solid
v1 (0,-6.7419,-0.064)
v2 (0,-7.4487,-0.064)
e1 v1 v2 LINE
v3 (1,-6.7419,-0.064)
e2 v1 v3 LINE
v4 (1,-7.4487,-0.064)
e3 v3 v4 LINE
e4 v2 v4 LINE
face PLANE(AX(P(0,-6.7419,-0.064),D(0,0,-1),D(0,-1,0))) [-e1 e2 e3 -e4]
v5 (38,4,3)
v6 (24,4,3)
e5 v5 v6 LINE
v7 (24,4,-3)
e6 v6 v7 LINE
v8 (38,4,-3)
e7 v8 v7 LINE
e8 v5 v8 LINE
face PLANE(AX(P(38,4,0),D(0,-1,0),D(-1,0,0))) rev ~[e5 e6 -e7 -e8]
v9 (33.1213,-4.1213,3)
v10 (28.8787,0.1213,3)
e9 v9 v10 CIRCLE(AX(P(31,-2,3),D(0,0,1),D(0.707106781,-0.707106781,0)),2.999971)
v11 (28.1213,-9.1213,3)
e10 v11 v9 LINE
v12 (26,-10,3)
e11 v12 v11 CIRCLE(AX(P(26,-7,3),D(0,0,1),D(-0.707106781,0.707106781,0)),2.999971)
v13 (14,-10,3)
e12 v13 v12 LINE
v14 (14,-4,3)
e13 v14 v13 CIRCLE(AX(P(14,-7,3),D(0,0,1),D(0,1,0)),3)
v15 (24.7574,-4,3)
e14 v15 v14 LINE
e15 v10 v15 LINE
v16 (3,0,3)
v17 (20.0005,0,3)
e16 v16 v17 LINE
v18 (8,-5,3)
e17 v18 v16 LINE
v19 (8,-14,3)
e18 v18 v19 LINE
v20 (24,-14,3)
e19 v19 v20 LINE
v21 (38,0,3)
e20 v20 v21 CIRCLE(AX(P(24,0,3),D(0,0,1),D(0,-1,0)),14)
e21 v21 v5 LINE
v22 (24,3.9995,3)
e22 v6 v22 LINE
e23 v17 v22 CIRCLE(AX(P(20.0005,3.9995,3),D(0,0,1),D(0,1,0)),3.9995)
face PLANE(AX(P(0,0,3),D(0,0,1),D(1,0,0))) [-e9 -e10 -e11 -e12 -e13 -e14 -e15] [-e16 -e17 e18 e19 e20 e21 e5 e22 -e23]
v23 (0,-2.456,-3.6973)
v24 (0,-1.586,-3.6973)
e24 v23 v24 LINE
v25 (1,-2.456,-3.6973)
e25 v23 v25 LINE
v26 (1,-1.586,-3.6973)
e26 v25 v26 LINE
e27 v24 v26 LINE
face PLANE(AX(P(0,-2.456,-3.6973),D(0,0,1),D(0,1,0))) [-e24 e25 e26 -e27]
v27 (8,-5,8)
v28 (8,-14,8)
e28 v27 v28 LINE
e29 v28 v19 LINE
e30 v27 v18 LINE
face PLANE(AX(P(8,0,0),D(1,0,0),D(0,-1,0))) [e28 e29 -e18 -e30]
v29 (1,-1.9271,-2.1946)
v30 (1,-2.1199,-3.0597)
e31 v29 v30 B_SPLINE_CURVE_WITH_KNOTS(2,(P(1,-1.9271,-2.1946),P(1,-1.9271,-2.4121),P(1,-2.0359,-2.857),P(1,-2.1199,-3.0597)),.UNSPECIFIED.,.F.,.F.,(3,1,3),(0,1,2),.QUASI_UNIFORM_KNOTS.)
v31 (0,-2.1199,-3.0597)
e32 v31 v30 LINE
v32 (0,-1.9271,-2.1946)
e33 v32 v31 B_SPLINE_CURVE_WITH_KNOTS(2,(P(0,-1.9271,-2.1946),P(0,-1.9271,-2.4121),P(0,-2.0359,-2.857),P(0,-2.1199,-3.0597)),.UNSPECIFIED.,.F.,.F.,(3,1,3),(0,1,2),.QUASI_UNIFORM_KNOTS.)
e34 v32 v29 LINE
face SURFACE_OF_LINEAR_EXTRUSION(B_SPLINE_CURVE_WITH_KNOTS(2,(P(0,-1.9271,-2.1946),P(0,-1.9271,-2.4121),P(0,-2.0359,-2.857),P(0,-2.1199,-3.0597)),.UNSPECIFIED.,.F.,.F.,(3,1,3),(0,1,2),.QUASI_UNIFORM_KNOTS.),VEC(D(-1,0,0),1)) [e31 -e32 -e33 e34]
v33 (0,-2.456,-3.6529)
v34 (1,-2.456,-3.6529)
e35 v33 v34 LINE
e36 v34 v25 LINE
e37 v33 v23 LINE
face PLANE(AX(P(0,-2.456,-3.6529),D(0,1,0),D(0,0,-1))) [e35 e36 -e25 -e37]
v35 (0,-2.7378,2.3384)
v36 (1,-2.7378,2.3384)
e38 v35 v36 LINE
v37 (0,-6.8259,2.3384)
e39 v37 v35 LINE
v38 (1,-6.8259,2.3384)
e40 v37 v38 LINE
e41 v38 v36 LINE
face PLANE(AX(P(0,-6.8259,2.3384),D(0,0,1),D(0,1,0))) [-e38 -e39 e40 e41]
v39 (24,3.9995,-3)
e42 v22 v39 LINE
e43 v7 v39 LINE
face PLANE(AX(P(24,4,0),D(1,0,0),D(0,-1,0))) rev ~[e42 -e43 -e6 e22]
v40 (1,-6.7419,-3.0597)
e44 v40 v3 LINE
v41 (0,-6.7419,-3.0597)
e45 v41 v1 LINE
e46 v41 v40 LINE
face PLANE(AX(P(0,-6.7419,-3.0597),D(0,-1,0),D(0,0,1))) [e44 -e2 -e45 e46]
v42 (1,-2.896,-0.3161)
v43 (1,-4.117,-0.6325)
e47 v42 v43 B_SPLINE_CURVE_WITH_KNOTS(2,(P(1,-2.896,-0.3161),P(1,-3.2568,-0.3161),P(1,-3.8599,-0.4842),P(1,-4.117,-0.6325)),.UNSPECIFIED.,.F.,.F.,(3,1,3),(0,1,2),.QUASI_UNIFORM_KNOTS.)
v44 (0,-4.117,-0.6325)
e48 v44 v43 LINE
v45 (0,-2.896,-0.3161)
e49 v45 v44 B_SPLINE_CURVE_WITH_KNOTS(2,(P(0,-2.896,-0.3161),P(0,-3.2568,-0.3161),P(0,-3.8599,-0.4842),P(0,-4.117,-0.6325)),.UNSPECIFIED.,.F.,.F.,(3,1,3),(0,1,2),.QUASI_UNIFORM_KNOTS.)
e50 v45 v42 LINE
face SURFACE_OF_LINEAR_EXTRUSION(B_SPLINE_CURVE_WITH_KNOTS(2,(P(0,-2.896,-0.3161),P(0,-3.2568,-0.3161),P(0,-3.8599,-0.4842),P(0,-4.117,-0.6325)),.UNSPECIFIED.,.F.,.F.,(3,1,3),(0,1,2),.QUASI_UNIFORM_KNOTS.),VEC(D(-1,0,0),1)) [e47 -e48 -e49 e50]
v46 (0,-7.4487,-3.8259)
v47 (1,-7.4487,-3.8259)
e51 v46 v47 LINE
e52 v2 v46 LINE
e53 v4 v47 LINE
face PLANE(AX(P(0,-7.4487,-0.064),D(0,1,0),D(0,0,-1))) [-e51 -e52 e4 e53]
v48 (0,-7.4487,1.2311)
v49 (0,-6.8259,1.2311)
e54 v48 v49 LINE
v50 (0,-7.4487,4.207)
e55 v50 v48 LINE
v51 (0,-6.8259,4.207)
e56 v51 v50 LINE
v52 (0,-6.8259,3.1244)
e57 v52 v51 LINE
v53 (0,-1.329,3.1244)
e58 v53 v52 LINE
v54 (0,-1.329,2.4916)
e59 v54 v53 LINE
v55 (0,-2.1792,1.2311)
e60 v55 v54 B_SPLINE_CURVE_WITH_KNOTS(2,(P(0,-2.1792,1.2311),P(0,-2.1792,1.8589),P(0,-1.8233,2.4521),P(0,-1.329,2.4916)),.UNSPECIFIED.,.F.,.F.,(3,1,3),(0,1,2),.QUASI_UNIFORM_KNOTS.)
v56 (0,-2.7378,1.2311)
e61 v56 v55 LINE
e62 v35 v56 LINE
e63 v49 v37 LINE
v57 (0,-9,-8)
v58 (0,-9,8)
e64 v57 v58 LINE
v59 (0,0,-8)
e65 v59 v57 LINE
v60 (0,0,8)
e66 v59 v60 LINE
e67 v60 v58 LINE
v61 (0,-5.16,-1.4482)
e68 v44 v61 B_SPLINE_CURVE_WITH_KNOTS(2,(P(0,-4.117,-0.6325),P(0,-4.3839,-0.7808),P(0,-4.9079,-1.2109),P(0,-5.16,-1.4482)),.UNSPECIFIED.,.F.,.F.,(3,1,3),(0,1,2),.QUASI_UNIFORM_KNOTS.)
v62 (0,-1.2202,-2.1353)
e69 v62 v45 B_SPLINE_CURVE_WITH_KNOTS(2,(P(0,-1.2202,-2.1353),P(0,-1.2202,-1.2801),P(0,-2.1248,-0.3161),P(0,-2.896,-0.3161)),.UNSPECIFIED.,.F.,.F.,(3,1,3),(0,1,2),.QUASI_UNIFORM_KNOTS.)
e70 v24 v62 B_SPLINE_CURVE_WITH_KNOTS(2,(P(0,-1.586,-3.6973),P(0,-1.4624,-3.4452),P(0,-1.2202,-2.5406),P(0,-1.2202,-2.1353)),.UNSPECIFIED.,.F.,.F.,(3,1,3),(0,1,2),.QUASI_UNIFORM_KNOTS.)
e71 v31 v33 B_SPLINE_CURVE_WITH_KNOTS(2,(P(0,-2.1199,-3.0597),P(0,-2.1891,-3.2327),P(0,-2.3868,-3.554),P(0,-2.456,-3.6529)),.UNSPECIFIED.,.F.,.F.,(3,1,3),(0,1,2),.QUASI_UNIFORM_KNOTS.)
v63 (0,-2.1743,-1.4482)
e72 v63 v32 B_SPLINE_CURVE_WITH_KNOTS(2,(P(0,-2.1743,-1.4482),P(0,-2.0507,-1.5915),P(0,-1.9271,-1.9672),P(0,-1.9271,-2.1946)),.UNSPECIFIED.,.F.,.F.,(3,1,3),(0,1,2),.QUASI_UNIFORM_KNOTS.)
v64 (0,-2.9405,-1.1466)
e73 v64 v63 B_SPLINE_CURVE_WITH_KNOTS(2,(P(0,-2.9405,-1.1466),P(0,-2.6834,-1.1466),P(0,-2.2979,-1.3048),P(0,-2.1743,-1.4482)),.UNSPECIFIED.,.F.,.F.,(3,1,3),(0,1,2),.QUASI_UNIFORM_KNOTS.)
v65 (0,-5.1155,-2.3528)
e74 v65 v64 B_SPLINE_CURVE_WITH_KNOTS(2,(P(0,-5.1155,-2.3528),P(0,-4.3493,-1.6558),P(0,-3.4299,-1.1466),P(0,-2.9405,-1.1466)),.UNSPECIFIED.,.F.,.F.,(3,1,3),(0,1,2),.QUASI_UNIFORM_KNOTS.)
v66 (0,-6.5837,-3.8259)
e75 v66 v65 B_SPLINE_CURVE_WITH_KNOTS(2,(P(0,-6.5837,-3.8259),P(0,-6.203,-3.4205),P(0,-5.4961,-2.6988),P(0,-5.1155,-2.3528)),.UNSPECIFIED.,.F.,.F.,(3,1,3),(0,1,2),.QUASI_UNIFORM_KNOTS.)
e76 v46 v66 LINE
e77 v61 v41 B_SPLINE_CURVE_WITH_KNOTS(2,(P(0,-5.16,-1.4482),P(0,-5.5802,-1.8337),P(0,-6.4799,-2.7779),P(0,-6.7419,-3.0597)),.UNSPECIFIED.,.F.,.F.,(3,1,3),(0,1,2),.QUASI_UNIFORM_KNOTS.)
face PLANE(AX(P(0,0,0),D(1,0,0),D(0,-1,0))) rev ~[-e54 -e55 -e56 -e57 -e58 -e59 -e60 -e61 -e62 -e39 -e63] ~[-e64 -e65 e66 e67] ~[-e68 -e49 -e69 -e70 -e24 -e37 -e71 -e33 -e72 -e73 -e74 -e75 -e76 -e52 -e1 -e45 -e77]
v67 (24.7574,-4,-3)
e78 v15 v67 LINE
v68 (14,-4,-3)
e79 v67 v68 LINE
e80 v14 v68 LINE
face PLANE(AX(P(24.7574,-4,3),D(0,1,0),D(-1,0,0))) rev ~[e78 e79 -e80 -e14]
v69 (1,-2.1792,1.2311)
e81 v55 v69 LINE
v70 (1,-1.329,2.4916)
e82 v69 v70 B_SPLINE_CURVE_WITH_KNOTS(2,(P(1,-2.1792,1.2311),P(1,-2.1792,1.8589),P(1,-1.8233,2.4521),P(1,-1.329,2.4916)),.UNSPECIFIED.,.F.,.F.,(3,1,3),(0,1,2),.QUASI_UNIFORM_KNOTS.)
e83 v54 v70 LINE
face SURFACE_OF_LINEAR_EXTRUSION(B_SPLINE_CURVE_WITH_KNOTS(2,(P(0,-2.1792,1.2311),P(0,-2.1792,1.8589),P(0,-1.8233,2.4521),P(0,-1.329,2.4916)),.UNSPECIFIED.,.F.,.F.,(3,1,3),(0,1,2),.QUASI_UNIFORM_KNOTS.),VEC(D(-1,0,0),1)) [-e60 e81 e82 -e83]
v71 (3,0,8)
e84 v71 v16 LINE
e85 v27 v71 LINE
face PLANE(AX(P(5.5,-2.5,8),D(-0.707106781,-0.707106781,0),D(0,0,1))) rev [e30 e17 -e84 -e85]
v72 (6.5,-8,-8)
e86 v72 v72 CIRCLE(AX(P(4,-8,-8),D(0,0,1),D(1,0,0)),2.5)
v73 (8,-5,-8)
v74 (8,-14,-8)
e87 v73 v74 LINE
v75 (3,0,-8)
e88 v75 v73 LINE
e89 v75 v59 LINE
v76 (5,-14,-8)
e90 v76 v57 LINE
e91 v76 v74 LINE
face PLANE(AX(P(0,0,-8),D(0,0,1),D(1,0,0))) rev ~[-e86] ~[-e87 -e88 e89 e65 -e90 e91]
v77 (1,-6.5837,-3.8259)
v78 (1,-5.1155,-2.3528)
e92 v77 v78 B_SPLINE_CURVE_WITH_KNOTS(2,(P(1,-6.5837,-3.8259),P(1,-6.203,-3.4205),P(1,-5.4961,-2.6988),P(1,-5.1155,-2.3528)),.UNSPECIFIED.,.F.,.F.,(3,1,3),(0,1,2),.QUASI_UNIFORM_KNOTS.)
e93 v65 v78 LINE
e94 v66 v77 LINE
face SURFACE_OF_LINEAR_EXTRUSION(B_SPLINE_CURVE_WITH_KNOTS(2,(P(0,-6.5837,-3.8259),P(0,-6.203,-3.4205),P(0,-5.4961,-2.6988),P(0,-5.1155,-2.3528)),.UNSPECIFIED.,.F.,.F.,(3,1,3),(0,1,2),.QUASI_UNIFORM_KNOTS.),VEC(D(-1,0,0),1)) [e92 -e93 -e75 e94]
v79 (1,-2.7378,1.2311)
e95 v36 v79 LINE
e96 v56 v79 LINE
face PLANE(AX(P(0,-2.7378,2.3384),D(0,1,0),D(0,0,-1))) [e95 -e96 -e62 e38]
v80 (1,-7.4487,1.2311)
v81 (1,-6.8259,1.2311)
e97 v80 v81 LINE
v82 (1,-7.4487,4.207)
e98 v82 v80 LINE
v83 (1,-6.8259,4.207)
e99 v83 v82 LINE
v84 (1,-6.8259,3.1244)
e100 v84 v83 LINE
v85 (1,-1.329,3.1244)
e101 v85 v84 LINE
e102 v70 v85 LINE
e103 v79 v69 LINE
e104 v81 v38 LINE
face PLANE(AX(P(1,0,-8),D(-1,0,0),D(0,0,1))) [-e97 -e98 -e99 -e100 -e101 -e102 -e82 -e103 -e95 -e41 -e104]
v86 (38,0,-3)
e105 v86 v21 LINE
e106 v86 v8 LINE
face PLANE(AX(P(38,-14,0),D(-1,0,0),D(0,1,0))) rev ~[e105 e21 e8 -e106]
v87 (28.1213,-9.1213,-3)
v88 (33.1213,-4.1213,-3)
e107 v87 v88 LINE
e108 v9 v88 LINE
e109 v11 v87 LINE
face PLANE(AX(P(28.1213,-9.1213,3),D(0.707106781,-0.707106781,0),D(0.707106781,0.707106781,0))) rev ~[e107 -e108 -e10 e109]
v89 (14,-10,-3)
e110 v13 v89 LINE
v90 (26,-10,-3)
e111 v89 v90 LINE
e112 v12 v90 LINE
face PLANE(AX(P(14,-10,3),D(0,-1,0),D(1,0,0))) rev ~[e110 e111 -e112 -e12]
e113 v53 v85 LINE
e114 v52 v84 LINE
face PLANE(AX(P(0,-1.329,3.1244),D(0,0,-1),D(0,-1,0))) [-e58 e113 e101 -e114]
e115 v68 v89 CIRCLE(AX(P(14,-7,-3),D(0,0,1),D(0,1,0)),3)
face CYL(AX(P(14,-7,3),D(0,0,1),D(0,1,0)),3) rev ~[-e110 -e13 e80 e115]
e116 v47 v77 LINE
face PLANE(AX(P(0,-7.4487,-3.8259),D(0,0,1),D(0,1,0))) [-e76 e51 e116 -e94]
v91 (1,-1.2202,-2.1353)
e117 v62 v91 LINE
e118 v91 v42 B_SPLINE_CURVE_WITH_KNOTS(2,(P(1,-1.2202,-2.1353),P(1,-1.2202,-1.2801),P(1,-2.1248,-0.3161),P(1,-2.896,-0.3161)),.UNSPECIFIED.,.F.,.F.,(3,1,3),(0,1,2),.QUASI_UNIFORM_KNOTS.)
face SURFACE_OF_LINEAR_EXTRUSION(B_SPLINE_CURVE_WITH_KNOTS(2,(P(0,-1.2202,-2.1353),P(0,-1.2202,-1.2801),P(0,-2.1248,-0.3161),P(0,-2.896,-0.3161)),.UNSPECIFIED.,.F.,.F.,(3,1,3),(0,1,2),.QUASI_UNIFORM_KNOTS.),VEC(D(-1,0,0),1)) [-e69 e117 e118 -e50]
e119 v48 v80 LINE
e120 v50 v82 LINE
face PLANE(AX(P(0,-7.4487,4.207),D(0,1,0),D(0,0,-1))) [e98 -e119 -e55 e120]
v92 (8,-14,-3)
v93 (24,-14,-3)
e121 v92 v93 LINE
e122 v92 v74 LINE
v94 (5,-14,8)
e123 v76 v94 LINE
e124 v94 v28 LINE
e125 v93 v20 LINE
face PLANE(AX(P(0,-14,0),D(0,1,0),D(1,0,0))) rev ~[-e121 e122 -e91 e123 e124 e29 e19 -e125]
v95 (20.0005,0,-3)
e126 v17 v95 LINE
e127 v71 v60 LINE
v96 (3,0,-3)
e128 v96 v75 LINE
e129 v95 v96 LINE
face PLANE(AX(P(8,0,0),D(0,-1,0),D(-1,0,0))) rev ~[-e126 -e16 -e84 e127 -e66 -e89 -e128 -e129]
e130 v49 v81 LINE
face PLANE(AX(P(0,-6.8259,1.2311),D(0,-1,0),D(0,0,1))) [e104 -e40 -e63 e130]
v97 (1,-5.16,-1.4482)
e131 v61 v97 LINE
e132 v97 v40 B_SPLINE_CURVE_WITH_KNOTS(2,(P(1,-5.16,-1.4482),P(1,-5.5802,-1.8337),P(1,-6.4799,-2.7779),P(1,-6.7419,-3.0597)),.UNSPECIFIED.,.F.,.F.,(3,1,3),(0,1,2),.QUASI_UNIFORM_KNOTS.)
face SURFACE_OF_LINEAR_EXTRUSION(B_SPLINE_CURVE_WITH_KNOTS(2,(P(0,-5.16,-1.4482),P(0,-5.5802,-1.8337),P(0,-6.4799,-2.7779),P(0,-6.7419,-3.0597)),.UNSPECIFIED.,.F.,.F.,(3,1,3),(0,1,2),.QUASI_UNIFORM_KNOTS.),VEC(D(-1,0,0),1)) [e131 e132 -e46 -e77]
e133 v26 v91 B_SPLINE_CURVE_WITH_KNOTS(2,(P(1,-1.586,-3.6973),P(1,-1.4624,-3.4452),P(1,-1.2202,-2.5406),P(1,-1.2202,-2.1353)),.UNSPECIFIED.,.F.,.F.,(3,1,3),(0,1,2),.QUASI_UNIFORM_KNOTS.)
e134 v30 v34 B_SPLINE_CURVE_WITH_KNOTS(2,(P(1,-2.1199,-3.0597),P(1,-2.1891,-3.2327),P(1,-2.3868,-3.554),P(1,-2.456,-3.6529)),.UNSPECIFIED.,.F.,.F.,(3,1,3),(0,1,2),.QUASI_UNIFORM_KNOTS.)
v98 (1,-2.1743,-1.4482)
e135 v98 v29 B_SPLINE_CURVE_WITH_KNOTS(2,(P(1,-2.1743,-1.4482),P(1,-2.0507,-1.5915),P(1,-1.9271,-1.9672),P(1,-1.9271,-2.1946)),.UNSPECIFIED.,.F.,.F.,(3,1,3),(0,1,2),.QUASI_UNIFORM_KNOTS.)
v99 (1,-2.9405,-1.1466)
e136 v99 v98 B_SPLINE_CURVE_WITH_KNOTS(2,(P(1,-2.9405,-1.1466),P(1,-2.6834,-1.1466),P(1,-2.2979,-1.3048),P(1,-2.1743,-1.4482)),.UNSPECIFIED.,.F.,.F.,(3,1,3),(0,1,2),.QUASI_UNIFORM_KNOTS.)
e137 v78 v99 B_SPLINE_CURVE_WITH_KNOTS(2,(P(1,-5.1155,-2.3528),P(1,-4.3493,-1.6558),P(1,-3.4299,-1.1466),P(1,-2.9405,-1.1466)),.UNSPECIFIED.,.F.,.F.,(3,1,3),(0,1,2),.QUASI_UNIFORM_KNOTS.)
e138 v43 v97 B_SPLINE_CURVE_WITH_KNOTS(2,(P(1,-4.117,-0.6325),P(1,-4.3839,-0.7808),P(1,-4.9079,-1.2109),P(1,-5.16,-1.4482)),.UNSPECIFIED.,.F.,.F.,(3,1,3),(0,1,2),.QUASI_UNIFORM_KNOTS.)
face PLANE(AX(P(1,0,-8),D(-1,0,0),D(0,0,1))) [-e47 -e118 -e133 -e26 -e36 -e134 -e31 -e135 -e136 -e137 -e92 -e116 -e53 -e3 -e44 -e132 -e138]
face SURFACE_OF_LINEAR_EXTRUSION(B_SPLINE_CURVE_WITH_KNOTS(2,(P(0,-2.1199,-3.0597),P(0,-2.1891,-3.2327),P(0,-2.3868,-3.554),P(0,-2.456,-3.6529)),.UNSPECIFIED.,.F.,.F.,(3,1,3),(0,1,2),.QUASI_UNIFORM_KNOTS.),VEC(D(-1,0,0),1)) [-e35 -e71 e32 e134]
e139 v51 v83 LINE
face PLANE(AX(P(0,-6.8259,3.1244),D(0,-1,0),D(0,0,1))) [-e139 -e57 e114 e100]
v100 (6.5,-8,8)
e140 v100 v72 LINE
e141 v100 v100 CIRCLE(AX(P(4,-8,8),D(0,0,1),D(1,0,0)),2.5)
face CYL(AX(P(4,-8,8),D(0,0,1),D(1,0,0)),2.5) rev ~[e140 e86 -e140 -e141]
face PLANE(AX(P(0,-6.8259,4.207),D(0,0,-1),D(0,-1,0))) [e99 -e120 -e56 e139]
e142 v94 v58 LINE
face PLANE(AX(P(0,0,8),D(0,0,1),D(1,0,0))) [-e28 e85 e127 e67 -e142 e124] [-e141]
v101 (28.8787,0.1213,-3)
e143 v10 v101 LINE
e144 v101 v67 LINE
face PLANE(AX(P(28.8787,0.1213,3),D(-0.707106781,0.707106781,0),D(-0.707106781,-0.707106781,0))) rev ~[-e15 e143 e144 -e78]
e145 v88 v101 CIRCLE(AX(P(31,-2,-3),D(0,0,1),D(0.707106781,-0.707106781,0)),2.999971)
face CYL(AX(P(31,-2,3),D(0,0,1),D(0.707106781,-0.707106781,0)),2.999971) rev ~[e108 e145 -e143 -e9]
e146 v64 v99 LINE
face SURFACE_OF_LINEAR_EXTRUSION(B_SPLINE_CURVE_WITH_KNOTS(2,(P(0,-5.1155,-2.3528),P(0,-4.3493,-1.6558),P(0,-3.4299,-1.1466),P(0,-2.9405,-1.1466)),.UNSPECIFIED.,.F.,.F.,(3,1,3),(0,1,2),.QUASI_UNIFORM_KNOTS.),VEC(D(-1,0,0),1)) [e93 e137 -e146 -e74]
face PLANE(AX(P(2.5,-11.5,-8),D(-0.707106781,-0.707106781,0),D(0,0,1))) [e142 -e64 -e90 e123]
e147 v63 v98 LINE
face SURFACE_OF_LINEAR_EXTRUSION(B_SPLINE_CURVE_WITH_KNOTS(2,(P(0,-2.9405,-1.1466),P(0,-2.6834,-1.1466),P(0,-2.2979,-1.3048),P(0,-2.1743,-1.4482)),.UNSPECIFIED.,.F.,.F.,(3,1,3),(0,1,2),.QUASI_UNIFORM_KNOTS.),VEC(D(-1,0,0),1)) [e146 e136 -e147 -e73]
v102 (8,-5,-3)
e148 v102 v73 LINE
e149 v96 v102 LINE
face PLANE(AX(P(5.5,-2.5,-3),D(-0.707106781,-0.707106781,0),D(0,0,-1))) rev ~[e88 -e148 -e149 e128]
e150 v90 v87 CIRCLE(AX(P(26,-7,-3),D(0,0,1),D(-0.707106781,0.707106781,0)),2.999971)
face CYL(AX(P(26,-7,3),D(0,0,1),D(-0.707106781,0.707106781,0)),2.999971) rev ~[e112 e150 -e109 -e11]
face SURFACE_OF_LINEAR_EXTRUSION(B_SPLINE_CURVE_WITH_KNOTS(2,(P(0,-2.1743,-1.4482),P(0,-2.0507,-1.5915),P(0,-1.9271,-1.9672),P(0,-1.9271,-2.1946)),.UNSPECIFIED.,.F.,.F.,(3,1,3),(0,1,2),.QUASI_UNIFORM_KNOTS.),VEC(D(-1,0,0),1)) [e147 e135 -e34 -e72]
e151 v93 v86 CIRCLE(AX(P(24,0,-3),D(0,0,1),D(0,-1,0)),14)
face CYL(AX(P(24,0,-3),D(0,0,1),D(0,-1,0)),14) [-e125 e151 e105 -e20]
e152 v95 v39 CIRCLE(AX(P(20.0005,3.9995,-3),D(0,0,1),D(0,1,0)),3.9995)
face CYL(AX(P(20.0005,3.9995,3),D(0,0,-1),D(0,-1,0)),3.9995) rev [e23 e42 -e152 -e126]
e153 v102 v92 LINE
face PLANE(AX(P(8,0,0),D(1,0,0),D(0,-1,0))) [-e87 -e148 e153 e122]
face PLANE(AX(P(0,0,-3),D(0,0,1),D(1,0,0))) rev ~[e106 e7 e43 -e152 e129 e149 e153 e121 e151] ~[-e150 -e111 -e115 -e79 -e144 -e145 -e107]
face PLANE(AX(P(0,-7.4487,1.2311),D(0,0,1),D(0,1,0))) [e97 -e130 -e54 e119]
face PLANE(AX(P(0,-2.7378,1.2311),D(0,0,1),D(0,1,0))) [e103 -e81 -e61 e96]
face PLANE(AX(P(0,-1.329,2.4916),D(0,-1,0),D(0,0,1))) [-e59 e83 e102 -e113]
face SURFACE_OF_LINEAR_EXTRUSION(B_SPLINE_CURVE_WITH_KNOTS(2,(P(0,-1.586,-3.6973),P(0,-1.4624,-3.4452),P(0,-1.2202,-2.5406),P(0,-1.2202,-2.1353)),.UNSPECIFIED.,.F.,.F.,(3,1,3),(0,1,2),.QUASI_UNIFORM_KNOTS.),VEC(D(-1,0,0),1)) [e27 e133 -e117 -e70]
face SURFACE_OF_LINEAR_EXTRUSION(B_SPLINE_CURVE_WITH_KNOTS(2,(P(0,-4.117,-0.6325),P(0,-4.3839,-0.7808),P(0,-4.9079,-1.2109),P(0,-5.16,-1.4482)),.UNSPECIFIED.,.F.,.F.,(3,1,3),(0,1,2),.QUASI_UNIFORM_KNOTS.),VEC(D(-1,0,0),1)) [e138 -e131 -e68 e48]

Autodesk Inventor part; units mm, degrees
ref_plane "YZ Plane" through (0, 0, 0) normal (1, 0, 0) x (0, 1, 0)
ref_plane "XZ Plane" through (0, 0, 0) normal (0, 1, 0) x (-1, 0, 0)
ref_plane "XY Plane" through (0, 0, 0) normal (0, 0, 1) x (1, 0, 0)
sketch "스케치1" plane through (0, 0, 0) normal (0, 0, 1) x (1, 0, 0)
  line L0 (0, 0) -> (0, -14)
  line L1 (0, -14) -> (38, -14)
  line L2 (38, -14) -> (38, 4)
  line L3 (38, 4) -> (24, 4)
  line L4 (24, 4) -> (24, 0)
  line L5 (24, 0) -> (0, 0)
  line L6 (8, 0) -> (8, -14)
  dimension "d0" = 18
  dimension "d1" = 38
  dimension "d2" = 14
  dimension "d3" = 14
  dimension "d4" = 8
extrude "돌출1" add sketch "스케치1" along normal mid plane 6 contours L5 L4 L3 L2 L1 L6
extrude "돌출2" add sketch "스케치1" along normal mid plane 16 contours L5 L6 L1 L0
fillet "모깎기1" radius 4 1 edges at (24, 0, 0)
fillet "모깎기2" radius 14 1 edges at (38, -14, 0)
chamfer "모따기1" distance 5 angle 45 1 edges at (0, -14, 0)
chamfer "모따기2" distance 5 angle 45 1 edges at (8, 0, 5.5)
chamfer "모따기3" distance 5 angle 45 1 edges at (8, 0, -5.5)
sketch "스케치2" plane through (0, 0, 8) normal (0, 0, 1) x (1, 0, 0)
  circle A0 centre (4, -8) radius 2.5
  line L0 (0, 0) -> (0, -9) projected
  line L1 (5, -14) -> (8, -14) projected
  dimension "d20" = 5
  dimension "d21" = 4
  dimension "d22" = 6
sketch "스케치3" plane through (0, 0, 3) normal (0, 0, 1) x (1, 0, 0)
  line L0 (31, -2) -> (26, -7) construction
  line L1 (28.8787, 0.1213) -> (23.8787, -4.8787)
  line L2 (28.1213, -9.1213) -> (33.1213, -4.1213)
  arc A0 (33.1213, -4.1213) -> (28.8787, 0.1213) centre (31, -2) ccw
  arc A1 (23.8787, -4.8787) -> (28.1213, -9.1213) centre (26, -7) ccw
  line L3 (38, 0) -> (38, 4) projected
  line L4 (38, 4) -> (24, 4) projected
  line L5 (26, -7) -> (14, -7) construction
  line L6 (26, -4) -> (14, -4)
  line L7 (14, -10) -> (26, -10)
  arc A2 (26, -10) -> (26, -4) centre (26, -7) ccw
  arc A3 (14, -4) -> (14, -10) centre (14, -7) ccw
  point P0 (0, 0)
  point P1 (28.5, -4.5)
  point P2 (20, -7)
  point P3 (24.7574, -4)
  dimension "d23" = 6
  dimension "d24" = 45
  dimension "d25" = 7
  dimension "d26" = 6
  dimension "d27" = 6
  dimension "d28" = 24
  dimension "d29" = 5
extrude "돌출3" cut sketch "스케치3" against normal blind 16
extrude "돌출4" cut sketch "스케치2" against normal blind 16
sketch "스케치4" plane through (0, 0, -8) normal (-1, 0, 0) x (0, 0, 1)
  line L0 (3.7292, -1.2202) -> (13.2257, -1.2202) construction
  line L1 (13.2257, -1.2202) -> (13.2257, -8.3293) construction
  line L2 (13.2257, -8.3293) -> (3.7292, -8.3293) construction
  line L3 (3.7292, -8.3293) -> (3.7292, -1.2202) construction
  line L4 (7.936, -7.4487) -> (4.1741, -7.4487)
  line L5 (4.1741, -7.4487) -> (4.1741, -6.5837)
  spline S0 degree 2 poles (4.1741, -6.5837) (4.5795, -6.203) (5.3012, -5.4961) (5.6472, -5.1155) knots 0 0 0 1 2 2 2
  spline S1 degree 2 poles (5.6472, -5.1155) (6.3442, -4.3493) (6.8534, -3.4299) (6.8534, -2.9405) knots 0 0 0 1 2 2 2
  spline S2 degree 2 poles (6.8534, -2.9405) (6.8534, -2.6834) (6.6952, -2.2979) (6.5518, -2.1743) knots 0 0 0 1 2 2 2
  spline S3 degree 2 poles (6.5518, -2.1743) (6.4085, -2.0507) (6.0328, -1.9271) (5.8054, -1.9271) knots 0 0 0 1 2 2 2
  spline S4 degree 2 poles (5.8054, -1.9271) (5.5879, -1.9271) (5.143, -2.0359) (4.9403, -2.1199) knots 0 0 0 1 2 2 2
  spline S5 degree 2 poles (4.9403, -2.1199) (4.7673, -2.1891) (4.446, -2.3868) (4.3471, -2.456) knots 0 0 0 1 2 2 2
  line L6 (4.3471, -2.456) -> (4.3027, -2.456)
  line L7 (4.3027, -2.456) -> (4.3027, -1.586)
  spline S6 degree 2 poles (4.3027, -1.586) (4.5548, -1.4624) (5.4594, -1.2202) (5.8647, -1.2202) knots 0 0 0 1 2 2 2
  spline S7 degree 2 poles (5.8647, -1.2202) (6.7199, -1.2202) (7.6839, -2.1248) (7.6839, -2.896) knots 0 0 0 1 2 2 2
  spline S8 degree 2 poles (7.6839, -2.896) (7.6839, -3.2568) (7.5158, -3.8599) (7.3675, -4.117) knots 0 0 0 1 2 2 2
  spline S9 degree 2 poles (7.3675, -4.117) (7.2192, -4.3839) (6.7891, -4.9079) (6.5518, -5.16) knots 0 0 0 1 2 2 2
  spline S10 degree 2 poles (6.5518, -5.16) (6.1663, -5.5802) (5.2221, -6.4799) (4.9403, -6.7419) knots 0 0 0 1 2 2 2
  line L8 (4.9403, -6.7419) -> (7.936, -6.7419)
  line L9 (7.936, -6.7419) -> (7.936, -7.4487)
  line L10 (12.207, -7.4487) -> (9.2311, -7.4487)
  line L11 (9.2311, -7.4487) -> (9.2311, -6.8259)
  line L12 (9.2311, -6.8259) -> (10.3384, -6.8259)
  line L13 (10.3384, -6.8259) -> (10.3384, -2.7378)
  line L14 (10.3384, -2.7378) -> (9.2311, -2.7378)
  line L15 (9.2311, -2.7378) -> (9.2311, -2.1792)
  spline S11 degree 2 poles (9.2311, -2.1792) (9.8589, -2.1792) (10.4521, -1.8233) (10.4916, -1.329) knots 0 0 0 1 2 2 2
  line L16 (10.4916, -1.329) -> (11.1244, -1.329)
  line L17 (11.1244, -1.329) -> (11.1244, -6.8259)
  line L18 (11.1244, -6.8259) -> (12.207, -6.8259)
  line L19 (12.207, -6.8259) -> (12.207, -7.4487)
  point P0 (8, 0)
extrude "돌출5" cut sketch "스케치4" against normal blind 1
properties part number "1번부품"
